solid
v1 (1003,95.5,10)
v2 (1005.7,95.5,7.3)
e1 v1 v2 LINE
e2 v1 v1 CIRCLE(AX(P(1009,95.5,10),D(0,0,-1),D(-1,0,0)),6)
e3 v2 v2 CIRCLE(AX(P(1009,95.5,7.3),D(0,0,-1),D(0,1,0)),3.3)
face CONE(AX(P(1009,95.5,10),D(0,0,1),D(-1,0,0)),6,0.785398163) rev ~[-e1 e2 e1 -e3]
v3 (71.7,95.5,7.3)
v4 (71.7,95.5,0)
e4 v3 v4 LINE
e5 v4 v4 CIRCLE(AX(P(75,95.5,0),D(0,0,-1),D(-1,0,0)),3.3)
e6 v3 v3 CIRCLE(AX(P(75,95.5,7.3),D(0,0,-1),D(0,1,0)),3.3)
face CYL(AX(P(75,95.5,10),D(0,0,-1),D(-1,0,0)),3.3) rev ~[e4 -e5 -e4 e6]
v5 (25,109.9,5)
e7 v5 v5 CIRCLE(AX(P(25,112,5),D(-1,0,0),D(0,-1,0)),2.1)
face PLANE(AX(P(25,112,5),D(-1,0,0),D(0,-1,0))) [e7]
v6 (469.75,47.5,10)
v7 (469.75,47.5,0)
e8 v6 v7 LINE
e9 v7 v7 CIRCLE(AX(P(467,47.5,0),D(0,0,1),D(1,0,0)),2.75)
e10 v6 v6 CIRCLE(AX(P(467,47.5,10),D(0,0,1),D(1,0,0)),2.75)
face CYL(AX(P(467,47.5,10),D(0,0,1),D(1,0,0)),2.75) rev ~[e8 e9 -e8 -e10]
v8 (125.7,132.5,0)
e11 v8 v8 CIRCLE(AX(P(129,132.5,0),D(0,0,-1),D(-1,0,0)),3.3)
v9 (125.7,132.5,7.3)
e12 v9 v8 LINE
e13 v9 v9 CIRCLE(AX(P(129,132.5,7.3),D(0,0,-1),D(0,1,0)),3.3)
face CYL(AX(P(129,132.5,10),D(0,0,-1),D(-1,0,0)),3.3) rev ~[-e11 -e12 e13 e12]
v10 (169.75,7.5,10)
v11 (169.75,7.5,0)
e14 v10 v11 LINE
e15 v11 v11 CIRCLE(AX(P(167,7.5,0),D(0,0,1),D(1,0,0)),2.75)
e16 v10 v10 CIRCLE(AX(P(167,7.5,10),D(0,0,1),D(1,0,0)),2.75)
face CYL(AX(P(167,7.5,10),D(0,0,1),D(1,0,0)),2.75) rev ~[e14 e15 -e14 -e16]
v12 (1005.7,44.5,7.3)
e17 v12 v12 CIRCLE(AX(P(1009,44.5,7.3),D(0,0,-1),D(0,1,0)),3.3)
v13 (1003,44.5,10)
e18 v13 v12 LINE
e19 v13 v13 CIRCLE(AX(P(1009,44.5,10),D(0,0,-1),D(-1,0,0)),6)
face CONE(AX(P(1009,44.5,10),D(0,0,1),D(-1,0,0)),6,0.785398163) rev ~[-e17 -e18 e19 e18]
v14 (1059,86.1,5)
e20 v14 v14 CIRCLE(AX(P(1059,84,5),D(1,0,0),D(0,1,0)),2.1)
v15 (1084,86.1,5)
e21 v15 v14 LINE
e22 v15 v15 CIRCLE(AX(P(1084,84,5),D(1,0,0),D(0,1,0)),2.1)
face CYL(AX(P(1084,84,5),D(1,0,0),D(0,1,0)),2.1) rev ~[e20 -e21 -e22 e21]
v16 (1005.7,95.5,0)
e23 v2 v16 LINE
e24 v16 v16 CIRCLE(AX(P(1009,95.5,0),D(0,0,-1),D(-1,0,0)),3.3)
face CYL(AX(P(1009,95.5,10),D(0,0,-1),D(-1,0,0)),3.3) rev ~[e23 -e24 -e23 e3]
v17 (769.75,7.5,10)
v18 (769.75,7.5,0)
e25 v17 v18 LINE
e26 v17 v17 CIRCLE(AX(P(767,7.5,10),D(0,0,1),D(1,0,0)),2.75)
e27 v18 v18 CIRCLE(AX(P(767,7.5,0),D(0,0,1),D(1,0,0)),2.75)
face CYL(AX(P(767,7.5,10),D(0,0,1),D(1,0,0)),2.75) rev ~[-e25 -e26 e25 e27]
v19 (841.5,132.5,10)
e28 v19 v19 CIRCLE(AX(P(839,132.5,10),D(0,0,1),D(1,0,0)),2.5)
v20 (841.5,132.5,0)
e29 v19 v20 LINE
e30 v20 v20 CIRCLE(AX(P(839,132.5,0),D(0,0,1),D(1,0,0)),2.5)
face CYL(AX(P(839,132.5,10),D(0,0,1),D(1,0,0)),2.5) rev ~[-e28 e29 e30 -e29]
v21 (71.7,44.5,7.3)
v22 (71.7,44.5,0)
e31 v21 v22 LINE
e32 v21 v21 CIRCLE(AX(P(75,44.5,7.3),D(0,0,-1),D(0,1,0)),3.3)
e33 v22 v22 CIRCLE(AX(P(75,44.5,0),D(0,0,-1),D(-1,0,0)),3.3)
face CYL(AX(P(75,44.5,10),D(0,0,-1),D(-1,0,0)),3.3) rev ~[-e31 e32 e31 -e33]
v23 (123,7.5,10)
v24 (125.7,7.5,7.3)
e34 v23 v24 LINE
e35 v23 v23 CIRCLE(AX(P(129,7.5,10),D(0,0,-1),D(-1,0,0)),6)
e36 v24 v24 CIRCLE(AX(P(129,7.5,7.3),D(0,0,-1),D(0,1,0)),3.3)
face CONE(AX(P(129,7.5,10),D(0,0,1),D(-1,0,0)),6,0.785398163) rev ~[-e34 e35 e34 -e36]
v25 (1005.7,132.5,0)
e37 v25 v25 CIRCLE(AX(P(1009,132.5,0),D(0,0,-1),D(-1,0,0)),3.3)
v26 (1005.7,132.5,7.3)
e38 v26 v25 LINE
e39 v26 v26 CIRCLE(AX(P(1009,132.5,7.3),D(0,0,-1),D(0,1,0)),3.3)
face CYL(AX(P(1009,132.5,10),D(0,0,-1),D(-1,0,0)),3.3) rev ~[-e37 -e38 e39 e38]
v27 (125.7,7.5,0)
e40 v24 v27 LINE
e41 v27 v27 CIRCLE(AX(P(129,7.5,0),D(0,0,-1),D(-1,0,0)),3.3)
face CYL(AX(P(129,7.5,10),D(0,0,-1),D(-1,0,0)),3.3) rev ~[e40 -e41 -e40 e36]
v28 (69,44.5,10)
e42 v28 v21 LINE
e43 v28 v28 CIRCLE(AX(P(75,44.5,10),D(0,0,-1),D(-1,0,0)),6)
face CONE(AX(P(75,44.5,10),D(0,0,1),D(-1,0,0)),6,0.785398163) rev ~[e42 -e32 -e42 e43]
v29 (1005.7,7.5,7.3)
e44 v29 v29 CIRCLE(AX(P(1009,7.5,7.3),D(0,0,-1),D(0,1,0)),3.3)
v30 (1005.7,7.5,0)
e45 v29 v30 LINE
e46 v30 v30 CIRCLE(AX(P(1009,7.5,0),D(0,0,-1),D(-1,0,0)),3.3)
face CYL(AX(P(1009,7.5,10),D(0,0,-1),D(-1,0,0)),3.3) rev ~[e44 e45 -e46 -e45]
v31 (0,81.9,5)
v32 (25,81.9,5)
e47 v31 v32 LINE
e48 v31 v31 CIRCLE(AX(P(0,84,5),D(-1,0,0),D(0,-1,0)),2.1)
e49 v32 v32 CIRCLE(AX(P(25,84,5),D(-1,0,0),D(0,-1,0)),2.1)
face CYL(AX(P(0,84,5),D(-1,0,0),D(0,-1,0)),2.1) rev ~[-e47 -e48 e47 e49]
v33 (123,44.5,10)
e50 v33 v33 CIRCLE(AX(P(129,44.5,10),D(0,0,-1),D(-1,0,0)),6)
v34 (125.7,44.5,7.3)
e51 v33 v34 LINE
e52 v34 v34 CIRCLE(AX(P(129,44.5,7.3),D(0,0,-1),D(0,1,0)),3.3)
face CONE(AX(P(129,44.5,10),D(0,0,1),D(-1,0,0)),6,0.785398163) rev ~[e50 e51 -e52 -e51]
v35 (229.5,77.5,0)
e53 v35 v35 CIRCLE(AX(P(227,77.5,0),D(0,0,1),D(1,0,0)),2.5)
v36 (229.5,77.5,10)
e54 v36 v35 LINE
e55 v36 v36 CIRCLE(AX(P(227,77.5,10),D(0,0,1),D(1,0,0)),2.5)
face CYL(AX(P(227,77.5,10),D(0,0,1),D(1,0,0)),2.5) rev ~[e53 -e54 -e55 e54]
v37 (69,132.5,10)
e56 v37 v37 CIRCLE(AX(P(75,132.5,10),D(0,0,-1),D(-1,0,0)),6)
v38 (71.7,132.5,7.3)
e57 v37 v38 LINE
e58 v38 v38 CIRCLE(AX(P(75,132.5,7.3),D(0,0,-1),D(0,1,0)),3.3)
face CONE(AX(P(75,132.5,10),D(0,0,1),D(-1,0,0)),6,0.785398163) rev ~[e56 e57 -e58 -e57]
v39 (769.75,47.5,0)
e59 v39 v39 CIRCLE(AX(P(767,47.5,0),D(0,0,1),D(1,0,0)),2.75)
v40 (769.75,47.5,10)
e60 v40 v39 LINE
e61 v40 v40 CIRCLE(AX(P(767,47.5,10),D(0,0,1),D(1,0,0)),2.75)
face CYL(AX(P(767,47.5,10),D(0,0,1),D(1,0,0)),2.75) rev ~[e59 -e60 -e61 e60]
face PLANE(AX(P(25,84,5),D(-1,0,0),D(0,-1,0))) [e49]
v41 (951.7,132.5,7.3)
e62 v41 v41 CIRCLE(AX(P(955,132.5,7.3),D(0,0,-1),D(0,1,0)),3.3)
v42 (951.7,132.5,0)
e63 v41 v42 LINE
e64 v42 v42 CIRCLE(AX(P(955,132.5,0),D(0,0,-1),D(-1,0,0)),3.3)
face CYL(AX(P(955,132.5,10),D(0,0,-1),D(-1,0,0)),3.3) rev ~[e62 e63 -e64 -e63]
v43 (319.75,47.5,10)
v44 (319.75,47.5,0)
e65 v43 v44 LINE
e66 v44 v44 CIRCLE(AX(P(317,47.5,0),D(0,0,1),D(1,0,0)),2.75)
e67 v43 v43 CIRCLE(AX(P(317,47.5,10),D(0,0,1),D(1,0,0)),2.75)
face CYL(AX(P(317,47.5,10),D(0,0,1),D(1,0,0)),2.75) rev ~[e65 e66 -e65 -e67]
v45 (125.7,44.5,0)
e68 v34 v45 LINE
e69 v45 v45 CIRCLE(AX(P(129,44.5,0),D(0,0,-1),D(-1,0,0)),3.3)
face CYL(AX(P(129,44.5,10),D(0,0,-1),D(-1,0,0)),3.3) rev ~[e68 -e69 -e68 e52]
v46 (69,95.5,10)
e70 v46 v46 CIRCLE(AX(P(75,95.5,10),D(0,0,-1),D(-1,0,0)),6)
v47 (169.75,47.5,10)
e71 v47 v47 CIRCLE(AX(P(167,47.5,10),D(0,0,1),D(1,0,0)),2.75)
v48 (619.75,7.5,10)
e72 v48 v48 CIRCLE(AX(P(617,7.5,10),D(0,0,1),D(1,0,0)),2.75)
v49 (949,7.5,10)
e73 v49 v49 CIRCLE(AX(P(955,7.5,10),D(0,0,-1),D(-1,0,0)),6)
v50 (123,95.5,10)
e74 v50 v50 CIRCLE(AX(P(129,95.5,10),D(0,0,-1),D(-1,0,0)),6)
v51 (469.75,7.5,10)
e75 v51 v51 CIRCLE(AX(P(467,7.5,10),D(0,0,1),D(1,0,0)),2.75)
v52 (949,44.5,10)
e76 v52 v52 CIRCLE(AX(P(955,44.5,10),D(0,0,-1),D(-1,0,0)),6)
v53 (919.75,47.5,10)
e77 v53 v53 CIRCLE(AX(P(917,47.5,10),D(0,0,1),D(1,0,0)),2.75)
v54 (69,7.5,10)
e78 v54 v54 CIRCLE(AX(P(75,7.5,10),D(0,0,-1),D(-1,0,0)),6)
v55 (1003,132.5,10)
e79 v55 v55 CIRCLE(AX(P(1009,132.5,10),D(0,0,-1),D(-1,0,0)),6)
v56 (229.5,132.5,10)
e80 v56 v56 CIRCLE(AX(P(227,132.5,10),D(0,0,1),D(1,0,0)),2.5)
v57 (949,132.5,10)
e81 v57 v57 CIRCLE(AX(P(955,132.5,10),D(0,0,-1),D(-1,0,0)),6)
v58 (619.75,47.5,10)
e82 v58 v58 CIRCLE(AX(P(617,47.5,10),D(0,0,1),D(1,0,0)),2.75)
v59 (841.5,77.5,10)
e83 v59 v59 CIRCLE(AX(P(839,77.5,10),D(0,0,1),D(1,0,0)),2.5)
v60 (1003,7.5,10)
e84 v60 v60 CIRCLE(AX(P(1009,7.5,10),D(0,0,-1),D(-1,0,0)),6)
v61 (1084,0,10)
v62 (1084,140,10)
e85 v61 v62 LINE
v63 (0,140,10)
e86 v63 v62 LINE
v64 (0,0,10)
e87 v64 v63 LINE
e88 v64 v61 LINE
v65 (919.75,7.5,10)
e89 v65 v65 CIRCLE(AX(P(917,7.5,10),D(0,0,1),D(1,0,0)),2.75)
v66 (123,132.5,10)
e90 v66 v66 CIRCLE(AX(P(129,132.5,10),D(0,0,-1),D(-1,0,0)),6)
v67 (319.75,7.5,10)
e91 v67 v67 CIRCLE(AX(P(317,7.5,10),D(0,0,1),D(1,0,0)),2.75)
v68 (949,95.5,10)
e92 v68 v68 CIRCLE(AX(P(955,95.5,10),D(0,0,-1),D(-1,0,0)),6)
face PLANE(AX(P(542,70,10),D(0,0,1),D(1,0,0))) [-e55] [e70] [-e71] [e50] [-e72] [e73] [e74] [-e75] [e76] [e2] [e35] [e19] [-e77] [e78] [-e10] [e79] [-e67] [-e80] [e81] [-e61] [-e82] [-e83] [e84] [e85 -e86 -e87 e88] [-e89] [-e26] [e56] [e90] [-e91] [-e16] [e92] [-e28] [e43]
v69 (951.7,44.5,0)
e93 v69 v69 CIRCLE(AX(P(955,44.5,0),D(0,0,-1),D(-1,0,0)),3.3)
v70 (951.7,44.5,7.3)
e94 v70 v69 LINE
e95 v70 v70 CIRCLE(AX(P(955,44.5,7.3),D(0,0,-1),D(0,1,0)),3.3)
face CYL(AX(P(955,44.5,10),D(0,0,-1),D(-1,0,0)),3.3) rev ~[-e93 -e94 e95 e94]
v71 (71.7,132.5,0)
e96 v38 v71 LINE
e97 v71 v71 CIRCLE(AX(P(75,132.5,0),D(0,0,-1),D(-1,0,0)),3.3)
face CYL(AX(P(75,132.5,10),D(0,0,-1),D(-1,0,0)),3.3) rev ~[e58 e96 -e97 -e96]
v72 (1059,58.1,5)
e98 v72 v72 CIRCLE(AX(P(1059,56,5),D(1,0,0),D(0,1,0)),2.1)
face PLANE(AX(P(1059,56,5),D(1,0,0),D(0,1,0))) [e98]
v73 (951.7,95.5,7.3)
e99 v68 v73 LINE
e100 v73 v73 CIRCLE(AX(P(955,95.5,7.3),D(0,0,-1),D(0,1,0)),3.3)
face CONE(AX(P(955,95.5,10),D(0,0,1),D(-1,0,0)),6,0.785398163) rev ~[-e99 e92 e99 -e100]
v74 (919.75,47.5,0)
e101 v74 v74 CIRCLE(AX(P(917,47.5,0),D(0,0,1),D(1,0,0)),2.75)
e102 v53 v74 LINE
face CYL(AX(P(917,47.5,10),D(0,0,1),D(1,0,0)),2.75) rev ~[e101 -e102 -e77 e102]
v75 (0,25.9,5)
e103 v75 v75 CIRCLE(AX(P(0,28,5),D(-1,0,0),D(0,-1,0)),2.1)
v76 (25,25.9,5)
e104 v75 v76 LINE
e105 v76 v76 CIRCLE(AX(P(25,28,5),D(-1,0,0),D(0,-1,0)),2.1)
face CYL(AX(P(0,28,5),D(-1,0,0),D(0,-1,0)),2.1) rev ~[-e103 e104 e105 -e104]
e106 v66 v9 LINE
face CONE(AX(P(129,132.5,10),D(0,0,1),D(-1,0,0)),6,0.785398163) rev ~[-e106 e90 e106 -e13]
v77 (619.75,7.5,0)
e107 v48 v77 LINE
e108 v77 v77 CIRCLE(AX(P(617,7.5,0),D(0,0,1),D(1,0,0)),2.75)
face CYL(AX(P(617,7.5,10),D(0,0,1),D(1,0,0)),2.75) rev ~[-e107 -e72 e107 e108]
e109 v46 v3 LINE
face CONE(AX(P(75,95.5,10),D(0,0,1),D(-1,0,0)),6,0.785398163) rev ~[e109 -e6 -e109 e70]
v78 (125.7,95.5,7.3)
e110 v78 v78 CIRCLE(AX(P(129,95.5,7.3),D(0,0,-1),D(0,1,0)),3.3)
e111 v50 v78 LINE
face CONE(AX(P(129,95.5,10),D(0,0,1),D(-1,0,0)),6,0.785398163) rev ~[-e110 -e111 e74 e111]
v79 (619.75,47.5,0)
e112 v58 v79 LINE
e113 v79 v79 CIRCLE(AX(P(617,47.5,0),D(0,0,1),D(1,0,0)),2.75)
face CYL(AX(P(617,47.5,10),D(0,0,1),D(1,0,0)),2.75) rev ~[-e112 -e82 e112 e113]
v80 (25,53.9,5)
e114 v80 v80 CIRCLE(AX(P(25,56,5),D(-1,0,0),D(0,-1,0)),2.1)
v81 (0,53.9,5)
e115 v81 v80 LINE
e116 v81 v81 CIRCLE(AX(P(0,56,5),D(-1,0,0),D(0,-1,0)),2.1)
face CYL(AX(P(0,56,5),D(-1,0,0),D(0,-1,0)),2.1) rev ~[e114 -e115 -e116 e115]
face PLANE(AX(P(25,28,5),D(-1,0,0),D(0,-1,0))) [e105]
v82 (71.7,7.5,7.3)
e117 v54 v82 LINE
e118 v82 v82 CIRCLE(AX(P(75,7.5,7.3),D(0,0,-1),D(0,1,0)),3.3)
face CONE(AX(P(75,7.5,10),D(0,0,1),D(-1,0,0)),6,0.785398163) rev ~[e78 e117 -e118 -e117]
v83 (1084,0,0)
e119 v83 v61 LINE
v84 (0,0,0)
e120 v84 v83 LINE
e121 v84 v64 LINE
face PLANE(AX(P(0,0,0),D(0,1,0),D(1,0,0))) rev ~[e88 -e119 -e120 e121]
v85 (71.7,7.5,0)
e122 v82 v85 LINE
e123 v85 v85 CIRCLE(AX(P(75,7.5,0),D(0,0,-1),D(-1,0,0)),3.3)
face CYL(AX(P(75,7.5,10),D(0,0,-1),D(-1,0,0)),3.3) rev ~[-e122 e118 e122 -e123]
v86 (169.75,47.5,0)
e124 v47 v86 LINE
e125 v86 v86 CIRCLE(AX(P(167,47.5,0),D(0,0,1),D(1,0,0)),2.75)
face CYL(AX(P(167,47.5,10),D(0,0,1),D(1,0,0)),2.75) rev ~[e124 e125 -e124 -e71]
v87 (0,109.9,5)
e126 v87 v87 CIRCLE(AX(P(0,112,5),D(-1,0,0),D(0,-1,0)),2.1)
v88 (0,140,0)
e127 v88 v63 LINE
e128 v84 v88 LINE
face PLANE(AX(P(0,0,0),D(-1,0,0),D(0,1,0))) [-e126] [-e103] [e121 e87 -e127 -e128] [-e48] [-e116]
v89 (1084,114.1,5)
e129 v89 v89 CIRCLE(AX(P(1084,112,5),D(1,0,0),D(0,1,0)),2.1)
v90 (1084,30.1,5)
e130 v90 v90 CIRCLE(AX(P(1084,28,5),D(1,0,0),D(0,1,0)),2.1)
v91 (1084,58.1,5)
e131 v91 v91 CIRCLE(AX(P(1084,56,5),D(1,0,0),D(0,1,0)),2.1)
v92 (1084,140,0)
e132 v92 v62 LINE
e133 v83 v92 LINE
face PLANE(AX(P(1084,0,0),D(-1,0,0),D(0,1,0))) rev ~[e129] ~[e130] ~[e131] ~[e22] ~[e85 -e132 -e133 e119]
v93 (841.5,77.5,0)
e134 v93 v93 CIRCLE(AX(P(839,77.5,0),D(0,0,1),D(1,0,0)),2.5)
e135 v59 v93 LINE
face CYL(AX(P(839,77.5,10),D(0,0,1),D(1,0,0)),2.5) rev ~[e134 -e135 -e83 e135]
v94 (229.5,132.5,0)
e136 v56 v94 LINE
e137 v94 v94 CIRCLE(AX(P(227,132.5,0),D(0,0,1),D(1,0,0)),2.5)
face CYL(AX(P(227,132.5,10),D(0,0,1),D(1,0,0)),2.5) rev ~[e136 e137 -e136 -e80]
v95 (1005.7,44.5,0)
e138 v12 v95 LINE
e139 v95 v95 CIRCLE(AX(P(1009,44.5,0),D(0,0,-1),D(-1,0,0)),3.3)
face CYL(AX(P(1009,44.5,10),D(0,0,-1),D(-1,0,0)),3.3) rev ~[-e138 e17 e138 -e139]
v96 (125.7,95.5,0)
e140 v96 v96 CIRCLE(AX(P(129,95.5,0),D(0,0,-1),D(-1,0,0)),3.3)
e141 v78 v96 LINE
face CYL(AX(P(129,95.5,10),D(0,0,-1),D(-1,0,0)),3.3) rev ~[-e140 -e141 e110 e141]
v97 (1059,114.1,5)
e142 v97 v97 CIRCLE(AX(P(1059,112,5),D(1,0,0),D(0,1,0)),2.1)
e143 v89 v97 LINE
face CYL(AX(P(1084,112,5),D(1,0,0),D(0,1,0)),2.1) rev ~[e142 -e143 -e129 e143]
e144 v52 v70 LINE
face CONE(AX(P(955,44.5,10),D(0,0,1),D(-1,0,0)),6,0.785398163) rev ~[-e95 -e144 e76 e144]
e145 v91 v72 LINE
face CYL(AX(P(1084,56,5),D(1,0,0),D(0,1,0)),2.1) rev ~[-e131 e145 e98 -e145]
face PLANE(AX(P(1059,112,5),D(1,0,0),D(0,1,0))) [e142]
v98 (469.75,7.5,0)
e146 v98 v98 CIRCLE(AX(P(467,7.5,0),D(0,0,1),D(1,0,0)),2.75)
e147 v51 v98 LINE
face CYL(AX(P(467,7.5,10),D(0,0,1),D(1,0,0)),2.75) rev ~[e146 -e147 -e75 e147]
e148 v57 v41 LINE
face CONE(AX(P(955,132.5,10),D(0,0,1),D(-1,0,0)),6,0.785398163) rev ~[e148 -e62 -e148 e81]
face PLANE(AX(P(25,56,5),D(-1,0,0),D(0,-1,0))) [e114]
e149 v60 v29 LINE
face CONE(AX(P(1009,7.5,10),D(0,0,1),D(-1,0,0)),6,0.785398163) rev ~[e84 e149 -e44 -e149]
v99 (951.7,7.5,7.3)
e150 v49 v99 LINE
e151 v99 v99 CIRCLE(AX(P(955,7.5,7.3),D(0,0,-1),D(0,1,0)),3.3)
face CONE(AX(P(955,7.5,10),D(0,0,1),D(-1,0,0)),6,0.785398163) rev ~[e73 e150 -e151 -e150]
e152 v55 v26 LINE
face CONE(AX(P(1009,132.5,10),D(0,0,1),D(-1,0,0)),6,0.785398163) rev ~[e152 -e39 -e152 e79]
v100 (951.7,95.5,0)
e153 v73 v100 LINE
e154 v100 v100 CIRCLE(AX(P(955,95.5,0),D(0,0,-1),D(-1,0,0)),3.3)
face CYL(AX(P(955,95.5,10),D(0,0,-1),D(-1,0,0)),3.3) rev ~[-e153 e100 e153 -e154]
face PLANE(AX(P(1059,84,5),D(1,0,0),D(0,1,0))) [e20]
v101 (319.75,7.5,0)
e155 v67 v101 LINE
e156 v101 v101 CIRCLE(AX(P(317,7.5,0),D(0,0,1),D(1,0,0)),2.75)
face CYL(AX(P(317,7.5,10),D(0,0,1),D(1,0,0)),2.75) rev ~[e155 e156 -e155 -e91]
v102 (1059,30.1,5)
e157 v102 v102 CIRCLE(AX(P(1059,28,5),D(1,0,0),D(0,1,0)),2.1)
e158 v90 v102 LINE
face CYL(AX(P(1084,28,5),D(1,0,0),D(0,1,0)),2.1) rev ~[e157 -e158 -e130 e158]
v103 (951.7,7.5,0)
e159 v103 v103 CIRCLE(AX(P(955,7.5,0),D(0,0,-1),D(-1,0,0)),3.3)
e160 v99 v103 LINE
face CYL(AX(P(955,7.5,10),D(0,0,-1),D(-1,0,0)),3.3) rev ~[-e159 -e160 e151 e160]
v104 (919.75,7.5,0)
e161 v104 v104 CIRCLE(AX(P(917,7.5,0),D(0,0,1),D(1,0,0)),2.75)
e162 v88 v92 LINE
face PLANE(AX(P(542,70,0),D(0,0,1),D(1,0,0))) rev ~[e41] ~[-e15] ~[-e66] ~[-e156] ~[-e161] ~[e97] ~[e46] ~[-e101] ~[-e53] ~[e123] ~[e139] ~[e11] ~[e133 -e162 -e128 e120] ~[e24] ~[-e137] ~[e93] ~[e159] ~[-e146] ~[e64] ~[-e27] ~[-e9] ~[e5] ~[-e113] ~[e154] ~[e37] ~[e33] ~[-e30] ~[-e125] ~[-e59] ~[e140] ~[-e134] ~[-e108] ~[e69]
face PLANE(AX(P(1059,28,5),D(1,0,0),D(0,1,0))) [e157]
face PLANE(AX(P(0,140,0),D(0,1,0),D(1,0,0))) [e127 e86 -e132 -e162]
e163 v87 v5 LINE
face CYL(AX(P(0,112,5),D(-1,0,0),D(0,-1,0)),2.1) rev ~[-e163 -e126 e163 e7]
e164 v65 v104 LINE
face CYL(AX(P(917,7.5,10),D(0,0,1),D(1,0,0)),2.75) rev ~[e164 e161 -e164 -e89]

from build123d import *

# Parameters (mm, degrees)
SKETCH_W               = 1084
SKETCH_H               = 140
PAD_DEPTH              = 10
HOLE_D                 = 6.6
HOLE_CSINK_D           = 12
HOLE_CSINK_ANGLE       = 90
LINEARPATTERN_COUNT    = 2
LINEARPATTERN_PITCH    = 37
LINEARPATTERN001_COUNT = 2
LINEARPATTERN001_PITCH = 88
LINEARPATTERN002_COUNT = 2
LINEARPATTERN002_PITCH = 125
HOLE001_D              = 6.6
HOLE001_CSINK_D        = 12
HOLE001_CSINK_ANGLE    = 90
LINEARPATTERN003_COUNT = 2
LINEARPATTERN003_PITCH = 37
LINEARPATTERN004_COUNT = 2
LINEARPATTERN004_PITCH = 88
LINEARPATTERN005_COUNT = 2
LINEARPATTERN005_PITCH = 125
SKETCH003_R            = 2.75
HOLE002_DEPTH          = 10.001
LINEARPATTERN006_COUNT = 6
LINEARPATTERN006_PITCH = 150
SKETCH004_R            = 2.75
HOLE003_DEPTH          = 10.001
LINEARPATTERN007_COUNT = 6
LINEARPATTERN007_PITCH = 150
SKETCH005_R            = 2.5
HOLE004_DEPTH          = 10.001
LINEARPATTERN008_COUNT = 2
LINEARPATTERN008_PITCH = 612
SKETCH006_R            = 2.5
HOLE005_DEPTH          = 10.001
LINEARPATTERN009_COUNT = 2
LINEARPATTERN009_PITCH = 612
HOLE006_D              = 6.6
HOLE006_CSINK_D        = 12
HOLE006_CSINK_ANGLE    = 90
LINEARPATTERN010_COUNT = 2
LINEARPATTERN010_PITCH = 54
HOLE007_D              = 6.6
HOLE007_CSINK_D        = 12
HOLE007_CSINK_ANGLE    = 90
LINEARPATTERN011_COUNT = 2
LINEARPATTERN011_PITCH = 54
HOLE008_D              = 6.6
HOLE008_CSINK_D        = 12
HOLE008_CSINK_ANGLE    = 90
LINEARPATTERN012_COUNT = 2
LINEARPATTERN012_PITCH = 54
HOLE009_D              = 6.6
HOLE009_CSINK_D        = 12
HOLE009_CSINK_ANGLE    = 90
LINEARPATTERN013_COUNT = 2
LINEARPATTERN013_PITCH = 54
SKETCH011_R            = 2.1
HOLE010_DEPTH          = 25
LINEARPATTERN014_COUNT = 4
LINEARPATTERN014_PITCH = 28
SKETCH012_R            = 2.1
HOLE011_DEPTH          = 25
LINEARPATTERN015_COUNT = 4
LINEARPATTERN015_PITCH = 28


with BuildPart() as part:
    # Sketch → Pad (new body)
    with BuildSketch(Plane.XY):
        with Locations((542, 70)):
            Rectangle(SKETCH_W, SKETCH_H)
    extrude(amount=PAD_DEPTH)

    # Hole (through all)
    with Locations(Plane.XY.offset(10)):
        with Locations((75, 7.5)):
            hole = CounterSinkHole(HOLE_D / 2, HOLE_CSINK_D / 2, counter_sink_angle=HOLE_CSINK_ANGLE)

    # LinearPattern: Hole ×2
    with Locations(*[(0, i * LINEARPATTERN_PITCH, 0) for i in range(1, LINEARPATTERN_COUNT)]):
        add(hole, mode=Mode.SUBTRACT)

    # LinearPattern001: Hole ×2
    with Locations(*[(0, i * LINEARPATTERN001_PITCH, 0) for i in range(1, LINEARPATTERN001_COUNT)]):
        add(hole, mode=Mode.SUBTRACT)

    # LinearPattern002: Hole ×2
    with Locations(*[(0, i * LINEARPATTERN002_PITCH, 0) for i in range(1, LINEARPATTERN002_COUNT)]):
        add(hole, mode=Mode.SUBTRACT)

    # Hole001 (through all)
    with Locations(Plane.XY.offset(10)):
        with Locations((129, 7.5)):
            hole001 = CounterSinkHole(HOLE001_D / 2, HOLE001_CSINK_D / 2, counter_sink_angle=HOLE001_CSINK_ANGLE)

    # LinearPattern003: Hole001 ×2
    with Locations(*[(0, i * LINEARPATTERN003_PITCH, 0) for i in range(1, LINEARPATTERN003_COUNT)]):
        add(hole001, mode=Mode.SUBTRACT)

    # LinearPattern004: Hole001 ×2
    with Locations(*[(0, i * LINEARPATTERN004_PITCH, 0) for i in range(1, LINEARPATTERN004_COUNT)]):
        add(hole001, mode=Mode.SUBTRACT)

    # LinearPattern005: Hole001 ×2
    with Locations(*[(0, i * LINEARPATTERN005_PITCH, 0) for i in range(1, LINEARPATTERN005_COUNT)]):
        add(hole001, mode=Mode.SUBTRACT)

    # Sketch003 (on Face5 of LinearPattern005) → Hole002 (cut, through all)
    with BuildSketch(Plane.XY.offset(10)):
        with Locations((167, 7.5)):
            Circle(SKETCH003_R)
    hole002 = extrude(amount=-HOLE002_DEPTH, mode=Mode.SUBTRACT)

    # LinearPattern006: Hole002 ×6
    with Locations(*[(i * LINEARPATTERN006_PITCH, 0, 0) for i in range(1, LINEARPATTERN006_COUNT)]):
        add(hole002, mode=Mode.SUBTRACT)

    # Sketch004 (on Face5 of LinearPattern006) → Hole003 (cut, through all)
    with BuildSketch(Plane.XY.offset(10)):
        with Locations((167, 47.5)):
            Circle(SKETCH004_R)
    hole003 = extrude(amount=-HOLE003_DEPTH, mode=Mode.SUBTRACT)

    # LinearPattern007: Hole003 ×6
    with Locations(*[(i * LINEARPATTERN007_PITCH, 0, 0) for i in range(1, LINEARPATTERN007_COUNT)]):
        add(hole003, mode=Mode.SUBTRACT)

    # Sketch005 (on Face5 of LinearPattern007) → Hole004 (cut, through all)
    with BuildSketch(Plane.XY.offset(10)):
        with Locations((227, 132.5)):
            Circle(SKETCH005_R)
    hole004 = extrude(amount=-HOLE004_DEPTH, mode=Mode.SUBTRACT)

    # LinearPattern008: Hole004 ×2
    with Locations(*[(i * LINEARPATTERN008_PITCH, 0, 0) for i in range(1, LINEARPATTERN008_COUNT)]):
        add(hole004, mode=Mode.SUBTRACT)

    # Sketch006 (on Face5 of LinearPattern008) → Hole005 (cut, through all)
    with BuildSketch(Plane.XY.offset(10)):
        with Locations((227, 77.5)):
            Circle(SKETCH006_R)
    hole005 = extrude(amount=-HOLE005_DEPTH, mode=Mode.SUBTRACT)

    # LinearPattern009: Hole005 ×2
    with Locations(*[(i * LINEARPATTERN009_PITCH, 0, 0) for i in range(1, LINEARPATTERN009_COUNT)]):
        add(hole005, mode=Mode.SUBTRACT)

    # Hole006 (through all)
    with Locations(Plane.XY.offset(10)):
        with Locations((1009, 132.5)):
            hole006 = CounterSinkHole(HOLE006_D / 2, HOLE006_CSINK_D / 2, counter_sink_angle=HOLE006_CSINK_ANGLE)

    # LinearPattern010: Hole006 ×2
    with Locations(*[(-i * LINEARPATTERN010_PITCH, 0, 0) for i in range(1, LINEARPATTERN010_COUNT)]):
        add(hole006, mode=Mode.SUBTRACT)

    # Hole007 (through all)
    with Locations(Plane.XY.offset(10)):
        with Locations((1009, 95.5)):
            hole007 = CounterSinkHole(HOLE007_D / 2, HOLE007_CSINK_D / 2, counter_sink_angle=HOLE007_CSINK_ANGLE)

    # LinearPattern011: Hole007 ×2
    with Locations(*[(-i * LINEARPATTERN011_PITCH, 0, 0) for i in range(1, LINEARPATTERN011_COUNT)]):
        add(hole007, mode=Mode.SUBTRACT)

    # Hole008 (through all)
    with Locations(Plane.XY.offset(10)):
        with Locations((1009, 7.5)):
            hole008 = CounterSinkHole(HOLE008_D / 2, HOLE008_CSINK_D / 2, counter_sink_angle=HOLE008_CSINK_ANGLE)

    # LinearPattern012: Hole008 ×2
    with Locations(*[(-i * LINEARPATTERN012_PITCH, 0, 0) for i in range(1, LINEARPATTERN012_COUNT)]):
        add(hole008, mode=Mode.SUBTRACT)

    # Hole009 (through all)
    with Locations(Plane.XY.offset(10)):
        with Locations((1009, 44.5)):
            hole009 = CounterSinkHole(HOLE009_D / 2, HOLE009_CSINK_D / 2, counter_sink_angle=HOLE009_CSINK_ANGLE)

    # LinearPattern013: Hole009 ×2
    with Locations(*[(-i * LINEARPATTERN013_PITCH, 0, 0) for i in range(1, LINEARPATTERN013_COUNT)]):
        add(hole009, mode=Mode.SUBTRACT)

    # Sketch011 (on Face2 of LinearPattern013) → Hole010 (cut)
    with BuildSketch(Plane(origin=(0, 0, 0), x_dir=(0, -1, 0), z_dir=(-1, 0, 0))):
        with Locations((-28, 5)):
            Circle(SKETCH011_R)
    hole010 = extrude(amount=-HOLE010_DEPTH, mode=Mode.SUBTRACT)

    # LinearPattern014: Hole010 ×4
    with Locations(*[(0, i * LINEARPATTERN014_PITCH, 0) for i in range(1, LINEARPATTERN014_COUNT)]):
        add(hole010, mode=Mode.SUBTRACT)

    # Sketch012 (on Face3 of LinearPattern014) → Hole011 (cut)
    with BuildSketch(Plane.YZ.offset(1084)):
        with Locations((28, 5)):
            Circle(SKETCH012_R)
    hole011 = extrude(amount=-HOLE011_DEPTH, mode=Mode.SUBTRACT)

    # LinearPattern015: Hole011 ×4
    with Locations(*[(0, i * LINEARPATTERN015_PITCH, 0) for i in range(1, LINEARPATTERN015_COUNT)]):
        add(hole011, mode=Mode.SUBTRACT)


solid = part.part
